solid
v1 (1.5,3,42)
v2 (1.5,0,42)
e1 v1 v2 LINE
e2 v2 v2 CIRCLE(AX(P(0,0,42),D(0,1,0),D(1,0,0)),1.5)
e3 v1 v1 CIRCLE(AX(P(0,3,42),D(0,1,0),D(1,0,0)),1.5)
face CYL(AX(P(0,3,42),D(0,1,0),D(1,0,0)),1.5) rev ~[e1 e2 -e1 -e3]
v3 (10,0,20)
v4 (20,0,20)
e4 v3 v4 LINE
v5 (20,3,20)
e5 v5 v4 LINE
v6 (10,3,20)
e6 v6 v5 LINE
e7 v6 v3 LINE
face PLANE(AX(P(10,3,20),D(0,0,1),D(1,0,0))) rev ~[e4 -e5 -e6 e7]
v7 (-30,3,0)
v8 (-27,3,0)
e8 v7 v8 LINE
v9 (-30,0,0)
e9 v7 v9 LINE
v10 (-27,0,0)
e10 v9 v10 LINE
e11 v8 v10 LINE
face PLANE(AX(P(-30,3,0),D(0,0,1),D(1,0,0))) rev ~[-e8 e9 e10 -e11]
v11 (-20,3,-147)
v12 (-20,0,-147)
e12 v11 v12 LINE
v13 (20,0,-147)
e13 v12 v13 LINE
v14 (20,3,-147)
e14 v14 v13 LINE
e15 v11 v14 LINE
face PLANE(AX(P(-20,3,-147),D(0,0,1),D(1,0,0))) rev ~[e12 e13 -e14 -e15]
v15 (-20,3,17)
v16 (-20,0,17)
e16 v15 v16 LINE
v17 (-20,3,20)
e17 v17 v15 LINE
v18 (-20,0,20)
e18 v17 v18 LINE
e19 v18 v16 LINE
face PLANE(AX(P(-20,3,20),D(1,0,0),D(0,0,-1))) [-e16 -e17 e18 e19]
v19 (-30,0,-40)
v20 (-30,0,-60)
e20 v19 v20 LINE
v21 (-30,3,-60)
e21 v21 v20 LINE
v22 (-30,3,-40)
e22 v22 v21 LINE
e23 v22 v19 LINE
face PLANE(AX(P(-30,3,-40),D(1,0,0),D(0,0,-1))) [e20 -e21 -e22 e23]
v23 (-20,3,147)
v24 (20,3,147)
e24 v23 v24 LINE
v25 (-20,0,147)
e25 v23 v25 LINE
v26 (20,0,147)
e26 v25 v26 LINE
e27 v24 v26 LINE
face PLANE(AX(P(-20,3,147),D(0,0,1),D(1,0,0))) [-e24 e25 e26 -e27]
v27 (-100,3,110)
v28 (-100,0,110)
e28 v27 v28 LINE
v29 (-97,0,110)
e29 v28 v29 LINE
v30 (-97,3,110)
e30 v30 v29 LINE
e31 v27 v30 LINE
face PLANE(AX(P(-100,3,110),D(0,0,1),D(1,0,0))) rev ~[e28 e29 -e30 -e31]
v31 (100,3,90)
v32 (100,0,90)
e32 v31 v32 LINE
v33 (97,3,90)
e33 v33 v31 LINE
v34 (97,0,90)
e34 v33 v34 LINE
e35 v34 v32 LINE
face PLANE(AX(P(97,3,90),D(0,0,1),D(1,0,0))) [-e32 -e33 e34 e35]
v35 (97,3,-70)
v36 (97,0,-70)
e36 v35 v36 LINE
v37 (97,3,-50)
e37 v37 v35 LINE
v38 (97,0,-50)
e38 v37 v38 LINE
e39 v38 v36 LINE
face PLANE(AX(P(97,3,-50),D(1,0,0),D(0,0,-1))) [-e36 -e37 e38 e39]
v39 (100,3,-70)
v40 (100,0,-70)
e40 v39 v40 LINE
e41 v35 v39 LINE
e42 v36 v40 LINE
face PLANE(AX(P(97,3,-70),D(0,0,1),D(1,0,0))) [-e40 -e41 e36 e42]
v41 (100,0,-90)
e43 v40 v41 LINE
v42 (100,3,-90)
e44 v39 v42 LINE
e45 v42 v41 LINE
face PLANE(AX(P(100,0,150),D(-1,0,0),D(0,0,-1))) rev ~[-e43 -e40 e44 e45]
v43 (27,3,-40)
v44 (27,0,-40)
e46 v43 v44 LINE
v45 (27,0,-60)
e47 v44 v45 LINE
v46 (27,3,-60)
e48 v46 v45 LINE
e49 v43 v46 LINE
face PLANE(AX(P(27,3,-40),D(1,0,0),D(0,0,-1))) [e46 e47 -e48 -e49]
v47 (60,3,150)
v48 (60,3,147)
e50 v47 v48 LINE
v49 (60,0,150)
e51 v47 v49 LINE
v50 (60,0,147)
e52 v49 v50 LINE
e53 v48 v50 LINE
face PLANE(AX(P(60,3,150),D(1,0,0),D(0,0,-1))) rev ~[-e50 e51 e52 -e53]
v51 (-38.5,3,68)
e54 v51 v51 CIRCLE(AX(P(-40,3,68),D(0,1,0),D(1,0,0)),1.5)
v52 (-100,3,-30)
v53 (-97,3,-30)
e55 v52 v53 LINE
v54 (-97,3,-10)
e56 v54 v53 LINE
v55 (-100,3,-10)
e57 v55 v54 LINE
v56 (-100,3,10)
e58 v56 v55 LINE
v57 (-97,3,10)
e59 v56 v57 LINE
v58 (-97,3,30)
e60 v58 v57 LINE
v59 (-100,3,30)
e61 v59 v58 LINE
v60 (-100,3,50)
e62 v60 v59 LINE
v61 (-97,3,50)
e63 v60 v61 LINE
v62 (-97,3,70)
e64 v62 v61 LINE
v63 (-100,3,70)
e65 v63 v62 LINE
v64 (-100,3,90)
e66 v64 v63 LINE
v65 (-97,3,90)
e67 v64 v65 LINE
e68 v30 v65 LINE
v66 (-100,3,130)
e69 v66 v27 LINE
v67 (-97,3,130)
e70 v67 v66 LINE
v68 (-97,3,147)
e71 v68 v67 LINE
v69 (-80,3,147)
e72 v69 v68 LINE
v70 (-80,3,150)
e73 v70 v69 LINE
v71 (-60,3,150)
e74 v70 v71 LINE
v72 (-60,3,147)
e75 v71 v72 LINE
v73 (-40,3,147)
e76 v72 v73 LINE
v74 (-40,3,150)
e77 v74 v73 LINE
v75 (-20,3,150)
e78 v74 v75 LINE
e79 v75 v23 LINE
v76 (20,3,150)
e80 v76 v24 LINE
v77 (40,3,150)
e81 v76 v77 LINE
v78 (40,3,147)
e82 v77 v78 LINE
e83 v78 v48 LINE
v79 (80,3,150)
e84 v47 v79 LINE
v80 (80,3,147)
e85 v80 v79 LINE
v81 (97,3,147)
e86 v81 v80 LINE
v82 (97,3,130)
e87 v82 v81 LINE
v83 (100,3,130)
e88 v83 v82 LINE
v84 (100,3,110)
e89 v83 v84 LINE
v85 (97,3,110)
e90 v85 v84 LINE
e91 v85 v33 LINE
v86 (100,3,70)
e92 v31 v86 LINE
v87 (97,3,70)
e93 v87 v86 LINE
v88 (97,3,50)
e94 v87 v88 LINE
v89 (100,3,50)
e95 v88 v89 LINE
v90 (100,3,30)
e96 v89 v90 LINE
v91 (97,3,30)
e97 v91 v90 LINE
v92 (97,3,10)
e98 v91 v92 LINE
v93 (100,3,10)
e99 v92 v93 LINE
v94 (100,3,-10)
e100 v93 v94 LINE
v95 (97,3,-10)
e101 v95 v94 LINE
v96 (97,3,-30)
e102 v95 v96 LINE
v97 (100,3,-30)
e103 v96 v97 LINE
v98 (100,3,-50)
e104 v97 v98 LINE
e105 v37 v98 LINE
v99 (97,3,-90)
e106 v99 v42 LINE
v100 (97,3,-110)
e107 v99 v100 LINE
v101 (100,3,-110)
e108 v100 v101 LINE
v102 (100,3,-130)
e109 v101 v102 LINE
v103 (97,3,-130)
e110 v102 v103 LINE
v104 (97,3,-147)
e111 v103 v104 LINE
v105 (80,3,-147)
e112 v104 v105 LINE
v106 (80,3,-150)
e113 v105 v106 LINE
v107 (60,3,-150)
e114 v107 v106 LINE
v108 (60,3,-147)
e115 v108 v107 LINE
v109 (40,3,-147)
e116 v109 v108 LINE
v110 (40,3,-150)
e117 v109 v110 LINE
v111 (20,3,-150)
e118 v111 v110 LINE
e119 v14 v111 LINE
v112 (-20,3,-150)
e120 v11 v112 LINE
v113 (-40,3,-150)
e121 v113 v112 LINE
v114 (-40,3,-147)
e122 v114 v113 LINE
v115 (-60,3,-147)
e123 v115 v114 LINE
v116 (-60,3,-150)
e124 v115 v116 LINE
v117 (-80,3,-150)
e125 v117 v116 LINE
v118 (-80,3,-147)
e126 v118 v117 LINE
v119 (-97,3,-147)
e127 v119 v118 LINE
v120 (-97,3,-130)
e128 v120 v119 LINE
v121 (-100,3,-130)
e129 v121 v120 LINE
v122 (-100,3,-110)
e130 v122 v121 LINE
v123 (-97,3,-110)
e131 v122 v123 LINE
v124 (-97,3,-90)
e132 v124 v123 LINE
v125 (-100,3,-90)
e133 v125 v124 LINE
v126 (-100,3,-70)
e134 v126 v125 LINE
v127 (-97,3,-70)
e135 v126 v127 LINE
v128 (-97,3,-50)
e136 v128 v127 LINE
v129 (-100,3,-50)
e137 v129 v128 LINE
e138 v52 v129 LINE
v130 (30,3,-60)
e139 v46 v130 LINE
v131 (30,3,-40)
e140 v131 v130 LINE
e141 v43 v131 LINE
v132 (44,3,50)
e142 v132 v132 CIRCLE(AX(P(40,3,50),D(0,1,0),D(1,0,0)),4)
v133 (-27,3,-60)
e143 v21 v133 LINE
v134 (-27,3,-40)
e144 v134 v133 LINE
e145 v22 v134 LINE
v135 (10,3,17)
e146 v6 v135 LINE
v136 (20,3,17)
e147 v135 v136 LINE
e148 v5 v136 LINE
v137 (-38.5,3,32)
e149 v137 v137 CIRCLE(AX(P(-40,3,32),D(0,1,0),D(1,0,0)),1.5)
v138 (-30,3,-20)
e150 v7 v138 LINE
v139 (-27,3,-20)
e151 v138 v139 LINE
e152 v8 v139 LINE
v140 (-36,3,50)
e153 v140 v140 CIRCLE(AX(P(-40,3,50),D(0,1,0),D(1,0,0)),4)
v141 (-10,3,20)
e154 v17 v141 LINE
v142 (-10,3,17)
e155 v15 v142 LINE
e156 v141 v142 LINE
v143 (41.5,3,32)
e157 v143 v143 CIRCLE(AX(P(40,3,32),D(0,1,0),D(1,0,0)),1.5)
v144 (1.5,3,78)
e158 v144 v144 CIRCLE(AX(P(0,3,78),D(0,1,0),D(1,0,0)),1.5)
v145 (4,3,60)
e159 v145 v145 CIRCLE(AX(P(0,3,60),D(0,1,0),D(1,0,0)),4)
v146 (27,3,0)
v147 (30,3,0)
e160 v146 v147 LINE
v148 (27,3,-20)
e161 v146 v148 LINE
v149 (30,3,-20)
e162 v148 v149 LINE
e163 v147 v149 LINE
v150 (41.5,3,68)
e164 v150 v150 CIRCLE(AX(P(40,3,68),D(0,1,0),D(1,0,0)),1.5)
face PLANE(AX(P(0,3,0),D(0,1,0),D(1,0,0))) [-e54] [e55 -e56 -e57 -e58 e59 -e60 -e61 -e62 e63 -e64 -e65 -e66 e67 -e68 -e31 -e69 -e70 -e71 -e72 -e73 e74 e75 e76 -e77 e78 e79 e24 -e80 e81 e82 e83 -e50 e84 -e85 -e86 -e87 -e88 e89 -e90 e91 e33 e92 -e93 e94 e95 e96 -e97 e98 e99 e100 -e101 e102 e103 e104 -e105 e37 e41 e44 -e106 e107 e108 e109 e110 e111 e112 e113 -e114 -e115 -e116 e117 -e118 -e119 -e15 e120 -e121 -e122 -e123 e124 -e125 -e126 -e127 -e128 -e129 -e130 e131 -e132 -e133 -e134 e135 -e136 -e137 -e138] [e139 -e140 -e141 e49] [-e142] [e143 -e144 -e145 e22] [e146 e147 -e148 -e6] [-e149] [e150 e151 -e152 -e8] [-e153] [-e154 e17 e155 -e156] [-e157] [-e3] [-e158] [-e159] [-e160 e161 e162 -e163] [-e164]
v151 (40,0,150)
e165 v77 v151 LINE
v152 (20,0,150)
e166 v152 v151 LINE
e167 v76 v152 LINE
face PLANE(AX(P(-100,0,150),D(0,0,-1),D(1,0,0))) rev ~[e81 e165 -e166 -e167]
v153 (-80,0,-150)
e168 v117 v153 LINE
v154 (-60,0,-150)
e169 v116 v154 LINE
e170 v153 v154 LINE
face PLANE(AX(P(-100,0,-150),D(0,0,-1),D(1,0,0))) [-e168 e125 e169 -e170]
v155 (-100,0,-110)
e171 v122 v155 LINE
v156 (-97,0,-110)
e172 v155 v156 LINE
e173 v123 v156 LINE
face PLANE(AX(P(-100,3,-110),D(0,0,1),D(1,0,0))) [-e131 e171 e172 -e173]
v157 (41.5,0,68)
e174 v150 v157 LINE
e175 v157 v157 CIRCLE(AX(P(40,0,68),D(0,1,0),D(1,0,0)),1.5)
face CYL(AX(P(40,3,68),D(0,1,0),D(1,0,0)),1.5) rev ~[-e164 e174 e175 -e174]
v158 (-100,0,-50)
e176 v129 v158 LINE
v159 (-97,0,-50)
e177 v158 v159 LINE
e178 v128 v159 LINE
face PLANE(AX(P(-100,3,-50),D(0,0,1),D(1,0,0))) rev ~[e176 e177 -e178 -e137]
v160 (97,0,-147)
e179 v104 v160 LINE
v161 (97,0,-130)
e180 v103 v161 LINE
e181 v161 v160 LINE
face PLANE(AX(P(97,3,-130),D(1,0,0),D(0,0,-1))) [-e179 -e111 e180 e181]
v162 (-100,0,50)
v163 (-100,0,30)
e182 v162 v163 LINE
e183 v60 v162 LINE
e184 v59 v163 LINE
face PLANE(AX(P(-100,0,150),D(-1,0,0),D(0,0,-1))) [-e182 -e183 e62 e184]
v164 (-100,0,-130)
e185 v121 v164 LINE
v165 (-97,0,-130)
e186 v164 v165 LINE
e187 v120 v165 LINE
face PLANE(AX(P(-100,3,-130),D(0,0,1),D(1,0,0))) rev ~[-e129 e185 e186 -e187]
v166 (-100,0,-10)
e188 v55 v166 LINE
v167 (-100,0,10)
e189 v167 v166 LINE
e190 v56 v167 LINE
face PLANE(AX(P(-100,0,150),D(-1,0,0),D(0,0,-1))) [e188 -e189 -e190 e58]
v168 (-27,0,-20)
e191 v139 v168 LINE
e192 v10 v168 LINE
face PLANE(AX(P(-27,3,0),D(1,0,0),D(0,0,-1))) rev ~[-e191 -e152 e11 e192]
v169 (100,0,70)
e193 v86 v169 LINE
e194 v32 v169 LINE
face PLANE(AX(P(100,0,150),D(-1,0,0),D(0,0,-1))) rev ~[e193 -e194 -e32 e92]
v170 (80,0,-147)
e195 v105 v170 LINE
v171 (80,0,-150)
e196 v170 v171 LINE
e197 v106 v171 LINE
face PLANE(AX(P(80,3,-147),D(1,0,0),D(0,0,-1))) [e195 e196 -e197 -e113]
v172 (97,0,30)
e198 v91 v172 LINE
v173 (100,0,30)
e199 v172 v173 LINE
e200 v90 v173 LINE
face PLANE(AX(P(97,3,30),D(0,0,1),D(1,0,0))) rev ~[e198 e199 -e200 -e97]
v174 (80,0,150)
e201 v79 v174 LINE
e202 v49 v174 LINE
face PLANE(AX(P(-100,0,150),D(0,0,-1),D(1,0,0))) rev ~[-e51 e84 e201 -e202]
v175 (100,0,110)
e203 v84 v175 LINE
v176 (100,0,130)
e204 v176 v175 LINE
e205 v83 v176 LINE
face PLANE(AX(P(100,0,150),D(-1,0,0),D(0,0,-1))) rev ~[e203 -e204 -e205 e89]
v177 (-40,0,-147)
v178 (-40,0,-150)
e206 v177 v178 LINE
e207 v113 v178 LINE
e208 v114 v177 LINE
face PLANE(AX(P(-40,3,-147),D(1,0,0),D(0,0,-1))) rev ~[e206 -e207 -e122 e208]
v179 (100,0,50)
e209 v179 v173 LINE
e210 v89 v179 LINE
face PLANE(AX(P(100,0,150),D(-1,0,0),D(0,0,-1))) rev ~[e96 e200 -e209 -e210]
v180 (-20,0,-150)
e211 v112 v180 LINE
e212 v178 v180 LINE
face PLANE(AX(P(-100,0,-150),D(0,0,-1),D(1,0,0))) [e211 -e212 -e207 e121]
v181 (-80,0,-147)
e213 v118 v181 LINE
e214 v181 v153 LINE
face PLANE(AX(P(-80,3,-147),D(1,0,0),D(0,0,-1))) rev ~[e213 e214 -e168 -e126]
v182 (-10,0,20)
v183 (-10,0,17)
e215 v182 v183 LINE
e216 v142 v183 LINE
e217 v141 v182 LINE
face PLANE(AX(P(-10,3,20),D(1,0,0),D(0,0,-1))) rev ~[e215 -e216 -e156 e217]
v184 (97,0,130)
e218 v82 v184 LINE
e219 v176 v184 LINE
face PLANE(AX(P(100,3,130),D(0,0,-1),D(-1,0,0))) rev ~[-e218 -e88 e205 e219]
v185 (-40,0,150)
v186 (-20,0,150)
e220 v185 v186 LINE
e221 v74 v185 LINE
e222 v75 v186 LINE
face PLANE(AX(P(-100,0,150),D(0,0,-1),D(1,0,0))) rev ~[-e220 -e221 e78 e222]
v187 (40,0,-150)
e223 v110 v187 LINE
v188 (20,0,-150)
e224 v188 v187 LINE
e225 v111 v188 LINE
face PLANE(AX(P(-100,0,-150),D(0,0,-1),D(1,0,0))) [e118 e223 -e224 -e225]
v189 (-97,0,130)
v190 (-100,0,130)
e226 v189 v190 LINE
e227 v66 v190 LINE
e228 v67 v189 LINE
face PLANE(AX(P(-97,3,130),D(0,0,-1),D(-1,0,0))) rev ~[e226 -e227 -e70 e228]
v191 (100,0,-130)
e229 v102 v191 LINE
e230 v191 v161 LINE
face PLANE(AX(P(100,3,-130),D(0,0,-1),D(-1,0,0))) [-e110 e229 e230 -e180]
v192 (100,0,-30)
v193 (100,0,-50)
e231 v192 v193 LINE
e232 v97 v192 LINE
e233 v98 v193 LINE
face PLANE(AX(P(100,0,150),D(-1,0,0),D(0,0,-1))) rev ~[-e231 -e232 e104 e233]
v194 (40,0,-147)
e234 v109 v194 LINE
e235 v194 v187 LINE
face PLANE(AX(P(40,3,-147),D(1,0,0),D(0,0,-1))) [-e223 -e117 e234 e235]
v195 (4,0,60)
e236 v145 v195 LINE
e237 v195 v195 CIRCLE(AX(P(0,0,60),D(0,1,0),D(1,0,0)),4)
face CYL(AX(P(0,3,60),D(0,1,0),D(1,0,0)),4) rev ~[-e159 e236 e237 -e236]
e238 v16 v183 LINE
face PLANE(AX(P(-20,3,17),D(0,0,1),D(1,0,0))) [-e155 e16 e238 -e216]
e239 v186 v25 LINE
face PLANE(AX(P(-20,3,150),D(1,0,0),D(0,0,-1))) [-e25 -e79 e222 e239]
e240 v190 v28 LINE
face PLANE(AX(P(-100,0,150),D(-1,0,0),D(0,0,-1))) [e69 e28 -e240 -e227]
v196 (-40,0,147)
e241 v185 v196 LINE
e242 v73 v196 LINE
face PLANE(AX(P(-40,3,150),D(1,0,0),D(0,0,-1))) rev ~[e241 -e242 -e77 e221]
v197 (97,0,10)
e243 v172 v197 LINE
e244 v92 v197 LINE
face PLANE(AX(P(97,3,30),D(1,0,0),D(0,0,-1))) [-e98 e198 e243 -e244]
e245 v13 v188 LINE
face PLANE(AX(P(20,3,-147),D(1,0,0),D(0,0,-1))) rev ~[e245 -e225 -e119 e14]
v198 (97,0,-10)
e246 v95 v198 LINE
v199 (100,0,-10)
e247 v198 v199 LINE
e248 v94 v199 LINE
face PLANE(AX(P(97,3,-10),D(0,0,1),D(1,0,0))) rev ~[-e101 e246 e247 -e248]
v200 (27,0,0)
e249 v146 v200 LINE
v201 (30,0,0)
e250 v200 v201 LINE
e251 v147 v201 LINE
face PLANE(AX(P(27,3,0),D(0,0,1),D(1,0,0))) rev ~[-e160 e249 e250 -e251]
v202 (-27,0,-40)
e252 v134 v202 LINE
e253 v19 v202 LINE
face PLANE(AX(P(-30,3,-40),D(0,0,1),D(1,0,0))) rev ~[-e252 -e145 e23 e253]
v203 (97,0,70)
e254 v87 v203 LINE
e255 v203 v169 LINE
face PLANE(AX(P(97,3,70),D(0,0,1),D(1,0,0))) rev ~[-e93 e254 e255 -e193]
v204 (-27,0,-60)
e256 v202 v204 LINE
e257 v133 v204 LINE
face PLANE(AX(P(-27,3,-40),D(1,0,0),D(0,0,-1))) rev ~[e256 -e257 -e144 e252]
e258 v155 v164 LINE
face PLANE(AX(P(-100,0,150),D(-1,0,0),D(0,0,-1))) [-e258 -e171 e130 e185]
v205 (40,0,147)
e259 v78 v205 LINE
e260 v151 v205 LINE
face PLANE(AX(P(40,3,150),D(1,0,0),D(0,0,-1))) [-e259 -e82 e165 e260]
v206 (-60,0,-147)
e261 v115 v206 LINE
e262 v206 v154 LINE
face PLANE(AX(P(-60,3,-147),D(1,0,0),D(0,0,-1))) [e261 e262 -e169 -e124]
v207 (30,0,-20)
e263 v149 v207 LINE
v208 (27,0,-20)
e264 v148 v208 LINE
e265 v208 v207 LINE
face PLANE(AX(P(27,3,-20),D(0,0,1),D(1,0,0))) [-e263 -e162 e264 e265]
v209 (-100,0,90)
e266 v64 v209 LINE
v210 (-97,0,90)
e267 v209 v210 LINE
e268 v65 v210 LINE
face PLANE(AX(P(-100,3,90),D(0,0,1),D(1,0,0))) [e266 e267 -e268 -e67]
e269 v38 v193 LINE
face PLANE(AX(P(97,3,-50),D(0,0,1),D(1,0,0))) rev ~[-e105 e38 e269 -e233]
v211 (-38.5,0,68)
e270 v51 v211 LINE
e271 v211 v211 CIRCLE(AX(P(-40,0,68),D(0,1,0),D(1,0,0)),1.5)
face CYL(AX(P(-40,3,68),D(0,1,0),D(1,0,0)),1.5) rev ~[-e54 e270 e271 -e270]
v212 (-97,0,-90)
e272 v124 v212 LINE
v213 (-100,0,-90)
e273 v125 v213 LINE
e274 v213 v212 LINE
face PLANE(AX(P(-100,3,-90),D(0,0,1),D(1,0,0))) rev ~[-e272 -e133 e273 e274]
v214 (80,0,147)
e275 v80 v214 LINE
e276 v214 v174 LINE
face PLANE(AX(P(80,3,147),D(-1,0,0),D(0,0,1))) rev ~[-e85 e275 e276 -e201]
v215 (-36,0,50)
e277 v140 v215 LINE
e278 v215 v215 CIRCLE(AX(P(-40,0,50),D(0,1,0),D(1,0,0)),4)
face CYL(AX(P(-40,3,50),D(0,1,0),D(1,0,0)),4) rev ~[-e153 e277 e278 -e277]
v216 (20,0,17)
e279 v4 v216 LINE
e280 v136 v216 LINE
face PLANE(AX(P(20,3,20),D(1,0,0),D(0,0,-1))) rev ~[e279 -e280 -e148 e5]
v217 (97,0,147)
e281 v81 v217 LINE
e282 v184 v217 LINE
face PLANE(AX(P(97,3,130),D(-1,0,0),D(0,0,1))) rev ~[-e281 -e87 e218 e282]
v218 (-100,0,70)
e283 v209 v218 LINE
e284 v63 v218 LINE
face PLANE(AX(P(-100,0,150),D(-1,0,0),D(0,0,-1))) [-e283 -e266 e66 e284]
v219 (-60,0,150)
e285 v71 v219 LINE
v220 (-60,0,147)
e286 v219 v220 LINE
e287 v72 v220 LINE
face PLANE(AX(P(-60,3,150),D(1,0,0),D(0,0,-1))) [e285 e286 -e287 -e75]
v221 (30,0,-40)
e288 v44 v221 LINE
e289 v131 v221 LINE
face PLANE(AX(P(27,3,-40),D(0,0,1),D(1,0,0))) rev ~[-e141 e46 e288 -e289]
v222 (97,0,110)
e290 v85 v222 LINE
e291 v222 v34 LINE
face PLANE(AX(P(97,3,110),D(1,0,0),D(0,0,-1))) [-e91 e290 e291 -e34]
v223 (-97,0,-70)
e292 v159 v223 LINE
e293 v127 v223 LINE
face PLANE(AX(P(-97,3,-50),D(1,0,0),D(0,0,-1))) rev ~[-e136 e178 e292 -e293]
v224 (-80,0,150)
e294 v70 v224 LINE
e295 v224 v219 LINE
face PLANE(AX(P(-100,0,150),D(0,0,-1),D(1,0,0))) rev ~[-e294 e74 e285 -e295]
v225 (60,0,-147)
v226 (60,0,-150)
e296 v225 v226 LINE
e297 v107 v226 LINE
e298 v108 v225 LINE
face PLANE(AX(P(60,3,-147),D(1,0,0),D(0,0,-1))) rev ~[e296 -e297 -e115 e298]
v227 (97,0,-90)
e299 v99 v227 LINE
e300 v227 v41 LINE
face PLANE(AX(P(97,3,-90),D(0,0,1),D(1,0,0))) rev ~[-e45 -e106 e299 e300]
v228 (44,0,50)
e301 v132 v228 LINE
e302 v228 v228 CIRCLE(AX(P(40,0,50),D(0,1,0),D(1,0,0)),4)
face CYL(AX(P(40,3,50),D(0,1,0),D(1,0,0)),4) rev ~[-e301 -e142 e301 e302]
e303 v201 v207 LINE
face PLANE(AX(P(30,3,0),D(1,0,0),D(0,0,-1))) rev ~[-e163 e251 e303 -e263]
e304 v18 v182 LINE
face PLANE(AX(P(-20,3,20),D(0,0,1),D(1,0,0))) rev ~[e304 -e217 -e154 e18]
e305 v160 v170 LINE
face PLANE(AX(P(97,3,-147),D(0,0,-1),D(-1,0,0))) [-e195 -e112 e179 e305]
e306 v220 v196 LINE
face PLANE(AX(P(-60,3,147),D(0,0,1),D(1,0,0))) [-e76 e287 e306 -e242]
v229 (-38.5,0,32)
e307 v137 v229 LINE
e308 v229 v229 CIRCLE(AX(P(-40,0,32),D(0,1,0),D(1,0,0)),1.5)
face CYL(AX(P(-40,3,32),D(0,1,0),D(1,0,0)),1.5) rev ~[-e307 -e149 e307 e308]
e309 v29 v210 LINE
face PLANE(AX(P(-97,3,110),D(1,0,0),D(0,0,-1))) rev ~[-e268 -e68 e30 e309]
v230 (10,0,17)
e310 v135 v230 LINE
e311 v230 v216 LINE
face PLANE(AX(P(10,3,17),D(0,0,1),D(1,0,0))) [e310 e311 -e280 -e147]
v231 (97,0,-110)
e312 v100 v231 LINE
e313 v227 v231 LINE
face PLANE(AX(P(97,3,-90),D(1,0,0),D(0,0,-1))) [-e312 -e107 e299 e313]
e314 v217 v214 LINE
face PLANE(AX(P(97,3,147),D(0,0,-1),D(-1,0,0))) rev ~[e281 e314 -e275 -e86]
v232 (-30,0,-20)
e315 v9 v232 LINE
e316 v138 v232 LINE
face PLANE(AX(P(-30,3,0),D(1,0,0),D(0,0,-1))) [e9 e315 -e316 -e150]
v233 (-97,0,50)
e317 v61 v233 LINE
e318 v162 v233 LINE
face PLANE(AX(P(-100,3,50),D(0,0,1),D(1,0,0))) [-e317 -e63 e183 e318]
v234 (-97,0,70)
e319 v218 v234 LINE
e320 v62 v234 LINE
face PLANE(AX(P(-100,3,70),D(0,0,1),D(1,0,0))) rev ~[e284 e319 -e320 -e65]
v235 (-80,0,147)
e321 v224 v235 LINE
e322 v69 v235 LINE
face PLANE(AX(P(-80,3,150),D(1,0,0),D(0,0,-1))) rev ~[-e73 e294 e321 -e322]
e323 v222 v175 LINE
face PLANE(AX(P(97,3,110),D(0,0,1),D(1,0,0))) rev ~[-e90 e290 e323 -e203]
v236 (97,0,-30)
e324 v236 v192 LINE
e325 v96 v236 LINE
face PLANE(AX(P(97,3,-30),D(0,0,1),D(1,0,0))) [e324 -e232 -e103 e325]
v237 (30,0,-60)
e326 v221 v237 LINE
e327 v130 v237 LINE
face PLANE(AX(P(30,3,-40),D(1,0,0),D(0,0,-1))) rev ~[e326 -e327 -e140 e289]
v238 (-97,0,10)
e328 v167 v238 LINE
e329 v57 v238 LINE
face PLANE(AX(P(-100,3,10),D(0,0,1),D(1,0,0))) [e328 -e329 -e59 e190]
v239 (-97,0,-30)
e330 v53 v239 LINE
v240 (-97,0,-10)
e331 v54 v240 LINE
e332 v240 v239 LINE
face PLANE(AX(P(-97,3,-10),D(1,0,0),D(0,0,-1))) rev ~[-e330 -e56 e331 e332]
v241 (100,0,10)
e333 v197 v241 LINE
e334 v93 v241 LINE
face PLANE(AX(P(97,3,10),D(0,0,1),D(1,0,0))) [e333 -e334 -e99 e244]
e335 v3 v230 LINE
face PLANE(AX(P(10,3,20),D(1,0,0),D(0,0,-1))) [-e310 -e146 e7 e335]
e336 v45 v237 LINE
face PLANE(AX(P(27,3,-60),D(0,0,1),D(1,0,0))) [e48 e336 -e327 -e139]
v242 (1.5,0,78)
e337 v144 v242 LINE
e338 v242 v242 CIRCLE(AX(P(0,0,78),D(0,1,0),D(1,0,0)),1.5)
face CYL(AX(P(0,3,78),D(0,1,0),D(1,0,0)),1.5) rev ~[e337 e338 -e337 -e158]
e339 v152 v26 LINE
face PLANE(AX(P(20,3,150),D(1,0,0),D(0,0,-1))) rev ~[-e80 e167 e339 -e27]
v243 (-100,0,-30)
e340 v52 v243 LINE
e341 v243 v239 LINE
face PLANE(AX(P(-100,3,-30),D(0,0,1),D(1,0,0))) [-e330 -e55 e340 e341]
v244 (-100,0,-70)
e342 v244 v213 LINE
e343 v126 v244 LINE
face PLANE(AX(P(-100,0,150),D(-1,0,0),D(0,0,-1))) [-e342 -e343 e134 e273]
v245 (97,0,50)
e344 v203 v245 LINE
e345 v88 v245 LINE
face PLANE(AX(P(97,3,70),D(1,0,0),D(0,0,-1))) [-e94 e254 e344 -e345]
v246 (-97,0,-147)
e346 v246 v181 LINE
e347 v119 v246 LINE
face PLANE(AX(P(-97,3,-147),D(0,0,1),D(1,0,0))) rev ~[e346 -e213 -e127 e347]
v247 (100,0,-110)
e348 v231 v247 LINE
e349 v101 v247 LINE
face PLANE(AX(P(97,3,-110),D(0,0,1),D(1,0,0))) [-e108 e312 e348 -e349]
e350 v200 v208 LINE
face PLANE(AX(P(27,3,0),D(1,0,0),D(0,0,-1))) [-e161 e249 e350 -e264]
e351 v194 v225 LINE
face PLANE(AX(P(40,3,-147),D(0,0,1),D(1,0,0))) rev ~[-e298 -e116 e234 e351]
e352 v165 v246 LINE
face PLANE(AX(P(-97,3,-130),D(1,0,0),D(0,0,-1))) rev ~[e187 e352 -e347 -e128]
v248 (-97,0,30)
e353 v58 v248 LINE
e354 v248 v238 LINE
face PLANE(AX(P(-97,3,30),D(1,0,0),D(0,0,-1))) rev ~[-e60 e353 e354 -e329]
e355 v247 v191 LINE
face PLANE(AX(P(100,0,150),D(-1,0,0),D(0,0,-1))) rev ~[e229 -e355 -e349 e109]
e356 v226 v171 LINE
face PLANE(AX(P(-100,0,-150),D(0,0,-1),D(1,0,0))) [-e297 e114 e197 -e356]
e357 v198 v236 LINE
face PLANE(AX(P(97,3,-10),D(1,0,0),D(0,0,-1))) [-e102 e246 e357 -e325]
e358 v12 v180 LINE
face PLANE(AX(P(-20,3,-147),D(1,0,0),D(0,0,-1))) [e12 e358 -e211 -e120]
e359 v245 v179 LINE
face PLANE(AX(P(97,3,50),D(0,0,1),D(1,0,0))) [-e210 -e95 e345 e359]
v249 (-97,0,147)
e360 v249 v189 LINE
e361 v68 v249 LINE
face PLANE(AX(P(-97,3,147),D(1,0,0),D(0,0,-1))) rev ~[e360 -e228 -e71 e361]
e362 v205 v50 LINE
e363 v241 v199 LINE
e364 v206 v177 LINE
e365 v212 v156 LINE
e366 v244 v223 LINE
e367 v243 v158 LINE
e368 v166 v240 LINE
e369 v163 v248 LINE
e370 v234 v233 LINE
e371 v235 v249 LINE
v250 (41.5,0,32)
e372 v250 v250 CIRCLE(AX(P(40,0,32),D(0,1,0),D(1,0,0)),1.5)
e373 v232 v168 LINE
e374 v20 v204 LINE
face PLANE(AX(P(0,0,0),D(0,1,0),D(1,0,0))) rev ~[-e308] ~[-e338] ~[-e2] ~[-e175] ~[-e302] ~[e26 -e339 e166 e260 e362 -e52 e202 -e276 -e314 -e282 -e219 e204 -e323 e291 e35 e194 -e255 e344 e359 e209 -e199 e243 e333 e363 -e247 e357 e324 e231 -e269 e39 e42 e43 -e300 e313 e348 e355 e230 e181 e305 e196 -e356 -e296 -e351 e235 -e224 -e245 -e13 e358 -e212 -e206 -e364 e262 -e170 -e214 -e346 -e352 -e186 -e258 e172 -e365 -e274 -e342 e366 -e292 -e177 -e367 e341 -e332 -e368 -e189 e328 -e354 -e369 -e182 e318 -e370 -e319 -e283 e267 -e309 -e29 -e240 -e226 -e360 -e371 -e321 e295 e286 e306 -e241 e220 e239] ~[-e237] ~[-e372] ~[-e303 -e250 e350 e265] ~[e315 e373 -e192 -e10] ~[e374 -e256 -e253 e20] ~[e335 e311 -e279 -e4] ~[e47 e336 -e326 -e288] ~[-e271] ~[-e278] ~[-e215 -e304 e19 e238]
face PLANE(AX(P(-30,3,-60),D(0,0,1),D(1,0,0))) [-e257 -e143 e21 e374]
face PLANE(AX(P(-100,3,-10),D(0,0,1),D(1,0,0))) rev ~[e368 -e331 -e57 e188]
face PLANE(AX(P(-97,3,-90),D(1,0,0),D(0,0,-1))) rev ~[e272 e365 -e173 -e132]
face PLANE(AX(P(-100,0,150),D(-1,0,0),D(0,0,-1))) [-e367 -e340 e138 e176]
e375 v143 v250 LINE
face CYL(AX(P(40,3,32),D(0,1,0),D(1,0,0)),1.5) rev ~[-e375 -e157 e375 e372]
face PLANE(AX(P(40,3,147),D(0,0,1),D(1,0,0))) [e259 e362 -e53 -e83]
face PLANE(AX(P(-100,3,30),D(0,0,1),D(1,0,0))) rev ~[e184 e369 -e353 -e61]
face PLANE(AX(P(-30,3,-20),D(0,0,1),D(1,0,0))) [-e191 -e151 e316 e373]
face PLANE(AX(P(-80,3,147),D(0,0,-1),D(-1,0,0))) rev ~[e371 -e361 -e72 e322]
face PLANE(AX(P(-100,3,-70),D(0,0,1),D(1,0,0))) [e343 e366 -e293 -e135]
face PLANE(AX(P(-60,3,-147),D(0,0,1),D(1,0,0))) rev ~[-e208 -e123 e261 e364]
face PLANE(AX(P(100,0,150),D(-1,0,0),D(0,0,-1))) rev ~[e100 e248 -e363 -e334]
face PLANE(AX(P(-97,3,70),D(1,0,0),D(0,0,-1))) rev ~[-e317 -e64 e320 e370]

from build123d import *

# Parameters (mm, degrees)
SKETCH1_W           = 200
SKETCH1_H           = 300
BOSS_EXTRUDE1_DEPTH = 3
SKETCH2_W           = 3
SKETCH2_H           = 20
SKETCH2_W_2         = 10
SKETCH2_H_2         = 3
CUT_EXTRUDE1_DEPTH  = 3
SKETCH3_W           = 3
SKETCH3_H           = 20
SKETCH3_W_2         = 20
SKETCH3_H_2         = 3
SKETCH3_W_3         = 40
CUT_EXTRUDE2_DEPTH  = 3
SKETCH4_R           = 4
SKETCH4_R_2         = 1.5
CUT_EXTRUDE3_DEPTH  = 3


with BuildPart() as part:
    # Sketch1 → Boss-Extrude1 (new body)
    with BuildSketch(Plane(origin=(0, 0, 0), x_dir=(1, 0, 0), z_dir=(0, 1, 0))):
        Rectangle(SKETCH1_W, SKETCH1_H)
    extrude(amount=BOSS_EXTRUDE1_DEPTH)

    # Sketch2 → Cut-Extrude1 (cut)
    with BuildSketch(Plane(origin=(0, 3, 0), x_dir=(1, 0, 0), z_dir=(0, 1, 0))):
        with Locations((-28.5, 10)):
            Rectangle(SKETCH2_W, SKETCH2_H)
        with Locations((28.5, 10)):
            Rectangle(SKETCH2_W, SKETCH2_H)
        with Locations((15, -18.5)):
            Rectangle(SKETCH2_W_2, SKETCH2_H_2)
        with Locations((28.5, 50)):
            Rectangle(SKETCH2_W, SKETCH2_H)
        with Locations((-28.5, 50)):
            Rectangle(SKETCH2_W, SKETCH2_H)
        with Locations((-15, -18.5)):
            Rectangle(SKETCH2_W_2, SKETCH2_H_2)
    extrude(amount=-CUT_EXTRUDE1_DEPTH, mode=Mode.SUBTRACT)

    # Sketch3 → Cut-Extrude2 (cut)
    with BuildSketch(Plane(origin=(0, 3, 0), x_dir=(1, 0, 0), z_dir=(0, 1, 0))):
        Polygon((100, 130), (97, 130), (97, 147), (80, 147), (80, 150), (100, 150), align=None)
        with Locations((98.5, 100)):
            Rectangle(SKETCH3_W, SKETCH3_H)
        with Locations((98.5, 60)):
            Rectangle(SKETCH3_W, SKETCH3_H)
        Polygon((-100, 150), (-100, 130), (-97, 130), (-97, 147), (-80, 147), (-80, 150), align=None)
        Polygon((-100, -150), (-80, -150), (-80, -147), (-97, -147), (-97, -130), (-100, -130), align=None)
        Polygon((100, -150), (100, -130), (97, -130), (97, -147), (80, -147), (80, -150), align=None)
        with Locations((98.5, 20)):
            Rectangle(SKETCH3_W, SKETCH3_H)
        with Locations((98.5, -20)):
            Rectangle(SKETCH3_W, SKETCH3_H)
        with Locations((98.5, -60)):
            Rectangle(SKETCH3_W, SKETCH3_H)
        with Locations((98.5, -100)):
            Rectangle(SKETCH3_W, SKETCH3_H)
        with Locations((-98.5, 100)):
            Rectangle(SKETCH3_W, SKETCH3_H)
        with Locations((-98.5, 60)):
            Rectangle(SKETCH3_W, SKETCH3_H)
        with Locations((-98.5, 20)):
            Rectangle(SKETCH3_W, SKETCH3_H)
        with Locations((-98.5, -20)):
            Rectangle(SKETCH3_W, SKETCH3_H)
        with Locations((-98.5, -60)):
            Rectangle(SKETCH3_W, SKETCH3_H)
        with Locations((-98.5, -100)):
            Rectangle(SKETCH3_W, SKETCH3_H)
        with Locations((-50, 148.5)):
            Rectangle(SKETCH3_W_2, SKETCH3_H_2)
        with Locations((0, 148.5)):
            Rectangle(SKETCH3_W_3, SKETCH3_H_2)
        with Locations((50, 148.5)):
            Rectangle(SKETCH3_W_2, SKETCH3_H_2)
        with Locations((50, -148.5)):
            Rectangle(SKETCH3_W_2, SKETCH3_H_2)
        with Locations((0, -148.5)):
            Rectangle(SKETCH3_W_3, SKETCH3_H_2)
        with Locations((-50, -148.5)):
            Rectangle(SKETCH3_W_2, SKETCH3_H_2)
    extrude(amount=-CUT_EXTRUDE2_DEPTH, mode=Mode.SUBTRACT)

    # Sketch4 → Cut-Extrude3 (cut)
    with BuildSketch(Plane(origin=(0, 3, 0), x_dir=(1, 0, 0), z_dir=(0, 1, 0))):
        with Locations((0, -60)):
            Circle(SKETCH4_R)
        with Locations((40, -50)):
            Circle(SKETCH4_R)
        with Locations((-40, -50)):
            Circle(SKETCH4_R)
        with Locations((40, -32)):
            Circle(SKETCH4_R_2)
        with Locations((40, -68)):
            Circle(SKETCH4_R_2)
        with Locations((0, -42)):
            Circle(SKETCH4_R_2)
        with Locations((0, -78)):
            Circle(SKETCH4_R_2)
        with Locations((-40, -32)):
            Circle(SKETCH4_R_2)
        with Locations((-40, -68)):
            Circle(SKETCH4_R_2)
    extrude(amount=-CUT_EXTRUDE3_DEPTH, mode=Mode.SUBTRACT)


solid = part.part
